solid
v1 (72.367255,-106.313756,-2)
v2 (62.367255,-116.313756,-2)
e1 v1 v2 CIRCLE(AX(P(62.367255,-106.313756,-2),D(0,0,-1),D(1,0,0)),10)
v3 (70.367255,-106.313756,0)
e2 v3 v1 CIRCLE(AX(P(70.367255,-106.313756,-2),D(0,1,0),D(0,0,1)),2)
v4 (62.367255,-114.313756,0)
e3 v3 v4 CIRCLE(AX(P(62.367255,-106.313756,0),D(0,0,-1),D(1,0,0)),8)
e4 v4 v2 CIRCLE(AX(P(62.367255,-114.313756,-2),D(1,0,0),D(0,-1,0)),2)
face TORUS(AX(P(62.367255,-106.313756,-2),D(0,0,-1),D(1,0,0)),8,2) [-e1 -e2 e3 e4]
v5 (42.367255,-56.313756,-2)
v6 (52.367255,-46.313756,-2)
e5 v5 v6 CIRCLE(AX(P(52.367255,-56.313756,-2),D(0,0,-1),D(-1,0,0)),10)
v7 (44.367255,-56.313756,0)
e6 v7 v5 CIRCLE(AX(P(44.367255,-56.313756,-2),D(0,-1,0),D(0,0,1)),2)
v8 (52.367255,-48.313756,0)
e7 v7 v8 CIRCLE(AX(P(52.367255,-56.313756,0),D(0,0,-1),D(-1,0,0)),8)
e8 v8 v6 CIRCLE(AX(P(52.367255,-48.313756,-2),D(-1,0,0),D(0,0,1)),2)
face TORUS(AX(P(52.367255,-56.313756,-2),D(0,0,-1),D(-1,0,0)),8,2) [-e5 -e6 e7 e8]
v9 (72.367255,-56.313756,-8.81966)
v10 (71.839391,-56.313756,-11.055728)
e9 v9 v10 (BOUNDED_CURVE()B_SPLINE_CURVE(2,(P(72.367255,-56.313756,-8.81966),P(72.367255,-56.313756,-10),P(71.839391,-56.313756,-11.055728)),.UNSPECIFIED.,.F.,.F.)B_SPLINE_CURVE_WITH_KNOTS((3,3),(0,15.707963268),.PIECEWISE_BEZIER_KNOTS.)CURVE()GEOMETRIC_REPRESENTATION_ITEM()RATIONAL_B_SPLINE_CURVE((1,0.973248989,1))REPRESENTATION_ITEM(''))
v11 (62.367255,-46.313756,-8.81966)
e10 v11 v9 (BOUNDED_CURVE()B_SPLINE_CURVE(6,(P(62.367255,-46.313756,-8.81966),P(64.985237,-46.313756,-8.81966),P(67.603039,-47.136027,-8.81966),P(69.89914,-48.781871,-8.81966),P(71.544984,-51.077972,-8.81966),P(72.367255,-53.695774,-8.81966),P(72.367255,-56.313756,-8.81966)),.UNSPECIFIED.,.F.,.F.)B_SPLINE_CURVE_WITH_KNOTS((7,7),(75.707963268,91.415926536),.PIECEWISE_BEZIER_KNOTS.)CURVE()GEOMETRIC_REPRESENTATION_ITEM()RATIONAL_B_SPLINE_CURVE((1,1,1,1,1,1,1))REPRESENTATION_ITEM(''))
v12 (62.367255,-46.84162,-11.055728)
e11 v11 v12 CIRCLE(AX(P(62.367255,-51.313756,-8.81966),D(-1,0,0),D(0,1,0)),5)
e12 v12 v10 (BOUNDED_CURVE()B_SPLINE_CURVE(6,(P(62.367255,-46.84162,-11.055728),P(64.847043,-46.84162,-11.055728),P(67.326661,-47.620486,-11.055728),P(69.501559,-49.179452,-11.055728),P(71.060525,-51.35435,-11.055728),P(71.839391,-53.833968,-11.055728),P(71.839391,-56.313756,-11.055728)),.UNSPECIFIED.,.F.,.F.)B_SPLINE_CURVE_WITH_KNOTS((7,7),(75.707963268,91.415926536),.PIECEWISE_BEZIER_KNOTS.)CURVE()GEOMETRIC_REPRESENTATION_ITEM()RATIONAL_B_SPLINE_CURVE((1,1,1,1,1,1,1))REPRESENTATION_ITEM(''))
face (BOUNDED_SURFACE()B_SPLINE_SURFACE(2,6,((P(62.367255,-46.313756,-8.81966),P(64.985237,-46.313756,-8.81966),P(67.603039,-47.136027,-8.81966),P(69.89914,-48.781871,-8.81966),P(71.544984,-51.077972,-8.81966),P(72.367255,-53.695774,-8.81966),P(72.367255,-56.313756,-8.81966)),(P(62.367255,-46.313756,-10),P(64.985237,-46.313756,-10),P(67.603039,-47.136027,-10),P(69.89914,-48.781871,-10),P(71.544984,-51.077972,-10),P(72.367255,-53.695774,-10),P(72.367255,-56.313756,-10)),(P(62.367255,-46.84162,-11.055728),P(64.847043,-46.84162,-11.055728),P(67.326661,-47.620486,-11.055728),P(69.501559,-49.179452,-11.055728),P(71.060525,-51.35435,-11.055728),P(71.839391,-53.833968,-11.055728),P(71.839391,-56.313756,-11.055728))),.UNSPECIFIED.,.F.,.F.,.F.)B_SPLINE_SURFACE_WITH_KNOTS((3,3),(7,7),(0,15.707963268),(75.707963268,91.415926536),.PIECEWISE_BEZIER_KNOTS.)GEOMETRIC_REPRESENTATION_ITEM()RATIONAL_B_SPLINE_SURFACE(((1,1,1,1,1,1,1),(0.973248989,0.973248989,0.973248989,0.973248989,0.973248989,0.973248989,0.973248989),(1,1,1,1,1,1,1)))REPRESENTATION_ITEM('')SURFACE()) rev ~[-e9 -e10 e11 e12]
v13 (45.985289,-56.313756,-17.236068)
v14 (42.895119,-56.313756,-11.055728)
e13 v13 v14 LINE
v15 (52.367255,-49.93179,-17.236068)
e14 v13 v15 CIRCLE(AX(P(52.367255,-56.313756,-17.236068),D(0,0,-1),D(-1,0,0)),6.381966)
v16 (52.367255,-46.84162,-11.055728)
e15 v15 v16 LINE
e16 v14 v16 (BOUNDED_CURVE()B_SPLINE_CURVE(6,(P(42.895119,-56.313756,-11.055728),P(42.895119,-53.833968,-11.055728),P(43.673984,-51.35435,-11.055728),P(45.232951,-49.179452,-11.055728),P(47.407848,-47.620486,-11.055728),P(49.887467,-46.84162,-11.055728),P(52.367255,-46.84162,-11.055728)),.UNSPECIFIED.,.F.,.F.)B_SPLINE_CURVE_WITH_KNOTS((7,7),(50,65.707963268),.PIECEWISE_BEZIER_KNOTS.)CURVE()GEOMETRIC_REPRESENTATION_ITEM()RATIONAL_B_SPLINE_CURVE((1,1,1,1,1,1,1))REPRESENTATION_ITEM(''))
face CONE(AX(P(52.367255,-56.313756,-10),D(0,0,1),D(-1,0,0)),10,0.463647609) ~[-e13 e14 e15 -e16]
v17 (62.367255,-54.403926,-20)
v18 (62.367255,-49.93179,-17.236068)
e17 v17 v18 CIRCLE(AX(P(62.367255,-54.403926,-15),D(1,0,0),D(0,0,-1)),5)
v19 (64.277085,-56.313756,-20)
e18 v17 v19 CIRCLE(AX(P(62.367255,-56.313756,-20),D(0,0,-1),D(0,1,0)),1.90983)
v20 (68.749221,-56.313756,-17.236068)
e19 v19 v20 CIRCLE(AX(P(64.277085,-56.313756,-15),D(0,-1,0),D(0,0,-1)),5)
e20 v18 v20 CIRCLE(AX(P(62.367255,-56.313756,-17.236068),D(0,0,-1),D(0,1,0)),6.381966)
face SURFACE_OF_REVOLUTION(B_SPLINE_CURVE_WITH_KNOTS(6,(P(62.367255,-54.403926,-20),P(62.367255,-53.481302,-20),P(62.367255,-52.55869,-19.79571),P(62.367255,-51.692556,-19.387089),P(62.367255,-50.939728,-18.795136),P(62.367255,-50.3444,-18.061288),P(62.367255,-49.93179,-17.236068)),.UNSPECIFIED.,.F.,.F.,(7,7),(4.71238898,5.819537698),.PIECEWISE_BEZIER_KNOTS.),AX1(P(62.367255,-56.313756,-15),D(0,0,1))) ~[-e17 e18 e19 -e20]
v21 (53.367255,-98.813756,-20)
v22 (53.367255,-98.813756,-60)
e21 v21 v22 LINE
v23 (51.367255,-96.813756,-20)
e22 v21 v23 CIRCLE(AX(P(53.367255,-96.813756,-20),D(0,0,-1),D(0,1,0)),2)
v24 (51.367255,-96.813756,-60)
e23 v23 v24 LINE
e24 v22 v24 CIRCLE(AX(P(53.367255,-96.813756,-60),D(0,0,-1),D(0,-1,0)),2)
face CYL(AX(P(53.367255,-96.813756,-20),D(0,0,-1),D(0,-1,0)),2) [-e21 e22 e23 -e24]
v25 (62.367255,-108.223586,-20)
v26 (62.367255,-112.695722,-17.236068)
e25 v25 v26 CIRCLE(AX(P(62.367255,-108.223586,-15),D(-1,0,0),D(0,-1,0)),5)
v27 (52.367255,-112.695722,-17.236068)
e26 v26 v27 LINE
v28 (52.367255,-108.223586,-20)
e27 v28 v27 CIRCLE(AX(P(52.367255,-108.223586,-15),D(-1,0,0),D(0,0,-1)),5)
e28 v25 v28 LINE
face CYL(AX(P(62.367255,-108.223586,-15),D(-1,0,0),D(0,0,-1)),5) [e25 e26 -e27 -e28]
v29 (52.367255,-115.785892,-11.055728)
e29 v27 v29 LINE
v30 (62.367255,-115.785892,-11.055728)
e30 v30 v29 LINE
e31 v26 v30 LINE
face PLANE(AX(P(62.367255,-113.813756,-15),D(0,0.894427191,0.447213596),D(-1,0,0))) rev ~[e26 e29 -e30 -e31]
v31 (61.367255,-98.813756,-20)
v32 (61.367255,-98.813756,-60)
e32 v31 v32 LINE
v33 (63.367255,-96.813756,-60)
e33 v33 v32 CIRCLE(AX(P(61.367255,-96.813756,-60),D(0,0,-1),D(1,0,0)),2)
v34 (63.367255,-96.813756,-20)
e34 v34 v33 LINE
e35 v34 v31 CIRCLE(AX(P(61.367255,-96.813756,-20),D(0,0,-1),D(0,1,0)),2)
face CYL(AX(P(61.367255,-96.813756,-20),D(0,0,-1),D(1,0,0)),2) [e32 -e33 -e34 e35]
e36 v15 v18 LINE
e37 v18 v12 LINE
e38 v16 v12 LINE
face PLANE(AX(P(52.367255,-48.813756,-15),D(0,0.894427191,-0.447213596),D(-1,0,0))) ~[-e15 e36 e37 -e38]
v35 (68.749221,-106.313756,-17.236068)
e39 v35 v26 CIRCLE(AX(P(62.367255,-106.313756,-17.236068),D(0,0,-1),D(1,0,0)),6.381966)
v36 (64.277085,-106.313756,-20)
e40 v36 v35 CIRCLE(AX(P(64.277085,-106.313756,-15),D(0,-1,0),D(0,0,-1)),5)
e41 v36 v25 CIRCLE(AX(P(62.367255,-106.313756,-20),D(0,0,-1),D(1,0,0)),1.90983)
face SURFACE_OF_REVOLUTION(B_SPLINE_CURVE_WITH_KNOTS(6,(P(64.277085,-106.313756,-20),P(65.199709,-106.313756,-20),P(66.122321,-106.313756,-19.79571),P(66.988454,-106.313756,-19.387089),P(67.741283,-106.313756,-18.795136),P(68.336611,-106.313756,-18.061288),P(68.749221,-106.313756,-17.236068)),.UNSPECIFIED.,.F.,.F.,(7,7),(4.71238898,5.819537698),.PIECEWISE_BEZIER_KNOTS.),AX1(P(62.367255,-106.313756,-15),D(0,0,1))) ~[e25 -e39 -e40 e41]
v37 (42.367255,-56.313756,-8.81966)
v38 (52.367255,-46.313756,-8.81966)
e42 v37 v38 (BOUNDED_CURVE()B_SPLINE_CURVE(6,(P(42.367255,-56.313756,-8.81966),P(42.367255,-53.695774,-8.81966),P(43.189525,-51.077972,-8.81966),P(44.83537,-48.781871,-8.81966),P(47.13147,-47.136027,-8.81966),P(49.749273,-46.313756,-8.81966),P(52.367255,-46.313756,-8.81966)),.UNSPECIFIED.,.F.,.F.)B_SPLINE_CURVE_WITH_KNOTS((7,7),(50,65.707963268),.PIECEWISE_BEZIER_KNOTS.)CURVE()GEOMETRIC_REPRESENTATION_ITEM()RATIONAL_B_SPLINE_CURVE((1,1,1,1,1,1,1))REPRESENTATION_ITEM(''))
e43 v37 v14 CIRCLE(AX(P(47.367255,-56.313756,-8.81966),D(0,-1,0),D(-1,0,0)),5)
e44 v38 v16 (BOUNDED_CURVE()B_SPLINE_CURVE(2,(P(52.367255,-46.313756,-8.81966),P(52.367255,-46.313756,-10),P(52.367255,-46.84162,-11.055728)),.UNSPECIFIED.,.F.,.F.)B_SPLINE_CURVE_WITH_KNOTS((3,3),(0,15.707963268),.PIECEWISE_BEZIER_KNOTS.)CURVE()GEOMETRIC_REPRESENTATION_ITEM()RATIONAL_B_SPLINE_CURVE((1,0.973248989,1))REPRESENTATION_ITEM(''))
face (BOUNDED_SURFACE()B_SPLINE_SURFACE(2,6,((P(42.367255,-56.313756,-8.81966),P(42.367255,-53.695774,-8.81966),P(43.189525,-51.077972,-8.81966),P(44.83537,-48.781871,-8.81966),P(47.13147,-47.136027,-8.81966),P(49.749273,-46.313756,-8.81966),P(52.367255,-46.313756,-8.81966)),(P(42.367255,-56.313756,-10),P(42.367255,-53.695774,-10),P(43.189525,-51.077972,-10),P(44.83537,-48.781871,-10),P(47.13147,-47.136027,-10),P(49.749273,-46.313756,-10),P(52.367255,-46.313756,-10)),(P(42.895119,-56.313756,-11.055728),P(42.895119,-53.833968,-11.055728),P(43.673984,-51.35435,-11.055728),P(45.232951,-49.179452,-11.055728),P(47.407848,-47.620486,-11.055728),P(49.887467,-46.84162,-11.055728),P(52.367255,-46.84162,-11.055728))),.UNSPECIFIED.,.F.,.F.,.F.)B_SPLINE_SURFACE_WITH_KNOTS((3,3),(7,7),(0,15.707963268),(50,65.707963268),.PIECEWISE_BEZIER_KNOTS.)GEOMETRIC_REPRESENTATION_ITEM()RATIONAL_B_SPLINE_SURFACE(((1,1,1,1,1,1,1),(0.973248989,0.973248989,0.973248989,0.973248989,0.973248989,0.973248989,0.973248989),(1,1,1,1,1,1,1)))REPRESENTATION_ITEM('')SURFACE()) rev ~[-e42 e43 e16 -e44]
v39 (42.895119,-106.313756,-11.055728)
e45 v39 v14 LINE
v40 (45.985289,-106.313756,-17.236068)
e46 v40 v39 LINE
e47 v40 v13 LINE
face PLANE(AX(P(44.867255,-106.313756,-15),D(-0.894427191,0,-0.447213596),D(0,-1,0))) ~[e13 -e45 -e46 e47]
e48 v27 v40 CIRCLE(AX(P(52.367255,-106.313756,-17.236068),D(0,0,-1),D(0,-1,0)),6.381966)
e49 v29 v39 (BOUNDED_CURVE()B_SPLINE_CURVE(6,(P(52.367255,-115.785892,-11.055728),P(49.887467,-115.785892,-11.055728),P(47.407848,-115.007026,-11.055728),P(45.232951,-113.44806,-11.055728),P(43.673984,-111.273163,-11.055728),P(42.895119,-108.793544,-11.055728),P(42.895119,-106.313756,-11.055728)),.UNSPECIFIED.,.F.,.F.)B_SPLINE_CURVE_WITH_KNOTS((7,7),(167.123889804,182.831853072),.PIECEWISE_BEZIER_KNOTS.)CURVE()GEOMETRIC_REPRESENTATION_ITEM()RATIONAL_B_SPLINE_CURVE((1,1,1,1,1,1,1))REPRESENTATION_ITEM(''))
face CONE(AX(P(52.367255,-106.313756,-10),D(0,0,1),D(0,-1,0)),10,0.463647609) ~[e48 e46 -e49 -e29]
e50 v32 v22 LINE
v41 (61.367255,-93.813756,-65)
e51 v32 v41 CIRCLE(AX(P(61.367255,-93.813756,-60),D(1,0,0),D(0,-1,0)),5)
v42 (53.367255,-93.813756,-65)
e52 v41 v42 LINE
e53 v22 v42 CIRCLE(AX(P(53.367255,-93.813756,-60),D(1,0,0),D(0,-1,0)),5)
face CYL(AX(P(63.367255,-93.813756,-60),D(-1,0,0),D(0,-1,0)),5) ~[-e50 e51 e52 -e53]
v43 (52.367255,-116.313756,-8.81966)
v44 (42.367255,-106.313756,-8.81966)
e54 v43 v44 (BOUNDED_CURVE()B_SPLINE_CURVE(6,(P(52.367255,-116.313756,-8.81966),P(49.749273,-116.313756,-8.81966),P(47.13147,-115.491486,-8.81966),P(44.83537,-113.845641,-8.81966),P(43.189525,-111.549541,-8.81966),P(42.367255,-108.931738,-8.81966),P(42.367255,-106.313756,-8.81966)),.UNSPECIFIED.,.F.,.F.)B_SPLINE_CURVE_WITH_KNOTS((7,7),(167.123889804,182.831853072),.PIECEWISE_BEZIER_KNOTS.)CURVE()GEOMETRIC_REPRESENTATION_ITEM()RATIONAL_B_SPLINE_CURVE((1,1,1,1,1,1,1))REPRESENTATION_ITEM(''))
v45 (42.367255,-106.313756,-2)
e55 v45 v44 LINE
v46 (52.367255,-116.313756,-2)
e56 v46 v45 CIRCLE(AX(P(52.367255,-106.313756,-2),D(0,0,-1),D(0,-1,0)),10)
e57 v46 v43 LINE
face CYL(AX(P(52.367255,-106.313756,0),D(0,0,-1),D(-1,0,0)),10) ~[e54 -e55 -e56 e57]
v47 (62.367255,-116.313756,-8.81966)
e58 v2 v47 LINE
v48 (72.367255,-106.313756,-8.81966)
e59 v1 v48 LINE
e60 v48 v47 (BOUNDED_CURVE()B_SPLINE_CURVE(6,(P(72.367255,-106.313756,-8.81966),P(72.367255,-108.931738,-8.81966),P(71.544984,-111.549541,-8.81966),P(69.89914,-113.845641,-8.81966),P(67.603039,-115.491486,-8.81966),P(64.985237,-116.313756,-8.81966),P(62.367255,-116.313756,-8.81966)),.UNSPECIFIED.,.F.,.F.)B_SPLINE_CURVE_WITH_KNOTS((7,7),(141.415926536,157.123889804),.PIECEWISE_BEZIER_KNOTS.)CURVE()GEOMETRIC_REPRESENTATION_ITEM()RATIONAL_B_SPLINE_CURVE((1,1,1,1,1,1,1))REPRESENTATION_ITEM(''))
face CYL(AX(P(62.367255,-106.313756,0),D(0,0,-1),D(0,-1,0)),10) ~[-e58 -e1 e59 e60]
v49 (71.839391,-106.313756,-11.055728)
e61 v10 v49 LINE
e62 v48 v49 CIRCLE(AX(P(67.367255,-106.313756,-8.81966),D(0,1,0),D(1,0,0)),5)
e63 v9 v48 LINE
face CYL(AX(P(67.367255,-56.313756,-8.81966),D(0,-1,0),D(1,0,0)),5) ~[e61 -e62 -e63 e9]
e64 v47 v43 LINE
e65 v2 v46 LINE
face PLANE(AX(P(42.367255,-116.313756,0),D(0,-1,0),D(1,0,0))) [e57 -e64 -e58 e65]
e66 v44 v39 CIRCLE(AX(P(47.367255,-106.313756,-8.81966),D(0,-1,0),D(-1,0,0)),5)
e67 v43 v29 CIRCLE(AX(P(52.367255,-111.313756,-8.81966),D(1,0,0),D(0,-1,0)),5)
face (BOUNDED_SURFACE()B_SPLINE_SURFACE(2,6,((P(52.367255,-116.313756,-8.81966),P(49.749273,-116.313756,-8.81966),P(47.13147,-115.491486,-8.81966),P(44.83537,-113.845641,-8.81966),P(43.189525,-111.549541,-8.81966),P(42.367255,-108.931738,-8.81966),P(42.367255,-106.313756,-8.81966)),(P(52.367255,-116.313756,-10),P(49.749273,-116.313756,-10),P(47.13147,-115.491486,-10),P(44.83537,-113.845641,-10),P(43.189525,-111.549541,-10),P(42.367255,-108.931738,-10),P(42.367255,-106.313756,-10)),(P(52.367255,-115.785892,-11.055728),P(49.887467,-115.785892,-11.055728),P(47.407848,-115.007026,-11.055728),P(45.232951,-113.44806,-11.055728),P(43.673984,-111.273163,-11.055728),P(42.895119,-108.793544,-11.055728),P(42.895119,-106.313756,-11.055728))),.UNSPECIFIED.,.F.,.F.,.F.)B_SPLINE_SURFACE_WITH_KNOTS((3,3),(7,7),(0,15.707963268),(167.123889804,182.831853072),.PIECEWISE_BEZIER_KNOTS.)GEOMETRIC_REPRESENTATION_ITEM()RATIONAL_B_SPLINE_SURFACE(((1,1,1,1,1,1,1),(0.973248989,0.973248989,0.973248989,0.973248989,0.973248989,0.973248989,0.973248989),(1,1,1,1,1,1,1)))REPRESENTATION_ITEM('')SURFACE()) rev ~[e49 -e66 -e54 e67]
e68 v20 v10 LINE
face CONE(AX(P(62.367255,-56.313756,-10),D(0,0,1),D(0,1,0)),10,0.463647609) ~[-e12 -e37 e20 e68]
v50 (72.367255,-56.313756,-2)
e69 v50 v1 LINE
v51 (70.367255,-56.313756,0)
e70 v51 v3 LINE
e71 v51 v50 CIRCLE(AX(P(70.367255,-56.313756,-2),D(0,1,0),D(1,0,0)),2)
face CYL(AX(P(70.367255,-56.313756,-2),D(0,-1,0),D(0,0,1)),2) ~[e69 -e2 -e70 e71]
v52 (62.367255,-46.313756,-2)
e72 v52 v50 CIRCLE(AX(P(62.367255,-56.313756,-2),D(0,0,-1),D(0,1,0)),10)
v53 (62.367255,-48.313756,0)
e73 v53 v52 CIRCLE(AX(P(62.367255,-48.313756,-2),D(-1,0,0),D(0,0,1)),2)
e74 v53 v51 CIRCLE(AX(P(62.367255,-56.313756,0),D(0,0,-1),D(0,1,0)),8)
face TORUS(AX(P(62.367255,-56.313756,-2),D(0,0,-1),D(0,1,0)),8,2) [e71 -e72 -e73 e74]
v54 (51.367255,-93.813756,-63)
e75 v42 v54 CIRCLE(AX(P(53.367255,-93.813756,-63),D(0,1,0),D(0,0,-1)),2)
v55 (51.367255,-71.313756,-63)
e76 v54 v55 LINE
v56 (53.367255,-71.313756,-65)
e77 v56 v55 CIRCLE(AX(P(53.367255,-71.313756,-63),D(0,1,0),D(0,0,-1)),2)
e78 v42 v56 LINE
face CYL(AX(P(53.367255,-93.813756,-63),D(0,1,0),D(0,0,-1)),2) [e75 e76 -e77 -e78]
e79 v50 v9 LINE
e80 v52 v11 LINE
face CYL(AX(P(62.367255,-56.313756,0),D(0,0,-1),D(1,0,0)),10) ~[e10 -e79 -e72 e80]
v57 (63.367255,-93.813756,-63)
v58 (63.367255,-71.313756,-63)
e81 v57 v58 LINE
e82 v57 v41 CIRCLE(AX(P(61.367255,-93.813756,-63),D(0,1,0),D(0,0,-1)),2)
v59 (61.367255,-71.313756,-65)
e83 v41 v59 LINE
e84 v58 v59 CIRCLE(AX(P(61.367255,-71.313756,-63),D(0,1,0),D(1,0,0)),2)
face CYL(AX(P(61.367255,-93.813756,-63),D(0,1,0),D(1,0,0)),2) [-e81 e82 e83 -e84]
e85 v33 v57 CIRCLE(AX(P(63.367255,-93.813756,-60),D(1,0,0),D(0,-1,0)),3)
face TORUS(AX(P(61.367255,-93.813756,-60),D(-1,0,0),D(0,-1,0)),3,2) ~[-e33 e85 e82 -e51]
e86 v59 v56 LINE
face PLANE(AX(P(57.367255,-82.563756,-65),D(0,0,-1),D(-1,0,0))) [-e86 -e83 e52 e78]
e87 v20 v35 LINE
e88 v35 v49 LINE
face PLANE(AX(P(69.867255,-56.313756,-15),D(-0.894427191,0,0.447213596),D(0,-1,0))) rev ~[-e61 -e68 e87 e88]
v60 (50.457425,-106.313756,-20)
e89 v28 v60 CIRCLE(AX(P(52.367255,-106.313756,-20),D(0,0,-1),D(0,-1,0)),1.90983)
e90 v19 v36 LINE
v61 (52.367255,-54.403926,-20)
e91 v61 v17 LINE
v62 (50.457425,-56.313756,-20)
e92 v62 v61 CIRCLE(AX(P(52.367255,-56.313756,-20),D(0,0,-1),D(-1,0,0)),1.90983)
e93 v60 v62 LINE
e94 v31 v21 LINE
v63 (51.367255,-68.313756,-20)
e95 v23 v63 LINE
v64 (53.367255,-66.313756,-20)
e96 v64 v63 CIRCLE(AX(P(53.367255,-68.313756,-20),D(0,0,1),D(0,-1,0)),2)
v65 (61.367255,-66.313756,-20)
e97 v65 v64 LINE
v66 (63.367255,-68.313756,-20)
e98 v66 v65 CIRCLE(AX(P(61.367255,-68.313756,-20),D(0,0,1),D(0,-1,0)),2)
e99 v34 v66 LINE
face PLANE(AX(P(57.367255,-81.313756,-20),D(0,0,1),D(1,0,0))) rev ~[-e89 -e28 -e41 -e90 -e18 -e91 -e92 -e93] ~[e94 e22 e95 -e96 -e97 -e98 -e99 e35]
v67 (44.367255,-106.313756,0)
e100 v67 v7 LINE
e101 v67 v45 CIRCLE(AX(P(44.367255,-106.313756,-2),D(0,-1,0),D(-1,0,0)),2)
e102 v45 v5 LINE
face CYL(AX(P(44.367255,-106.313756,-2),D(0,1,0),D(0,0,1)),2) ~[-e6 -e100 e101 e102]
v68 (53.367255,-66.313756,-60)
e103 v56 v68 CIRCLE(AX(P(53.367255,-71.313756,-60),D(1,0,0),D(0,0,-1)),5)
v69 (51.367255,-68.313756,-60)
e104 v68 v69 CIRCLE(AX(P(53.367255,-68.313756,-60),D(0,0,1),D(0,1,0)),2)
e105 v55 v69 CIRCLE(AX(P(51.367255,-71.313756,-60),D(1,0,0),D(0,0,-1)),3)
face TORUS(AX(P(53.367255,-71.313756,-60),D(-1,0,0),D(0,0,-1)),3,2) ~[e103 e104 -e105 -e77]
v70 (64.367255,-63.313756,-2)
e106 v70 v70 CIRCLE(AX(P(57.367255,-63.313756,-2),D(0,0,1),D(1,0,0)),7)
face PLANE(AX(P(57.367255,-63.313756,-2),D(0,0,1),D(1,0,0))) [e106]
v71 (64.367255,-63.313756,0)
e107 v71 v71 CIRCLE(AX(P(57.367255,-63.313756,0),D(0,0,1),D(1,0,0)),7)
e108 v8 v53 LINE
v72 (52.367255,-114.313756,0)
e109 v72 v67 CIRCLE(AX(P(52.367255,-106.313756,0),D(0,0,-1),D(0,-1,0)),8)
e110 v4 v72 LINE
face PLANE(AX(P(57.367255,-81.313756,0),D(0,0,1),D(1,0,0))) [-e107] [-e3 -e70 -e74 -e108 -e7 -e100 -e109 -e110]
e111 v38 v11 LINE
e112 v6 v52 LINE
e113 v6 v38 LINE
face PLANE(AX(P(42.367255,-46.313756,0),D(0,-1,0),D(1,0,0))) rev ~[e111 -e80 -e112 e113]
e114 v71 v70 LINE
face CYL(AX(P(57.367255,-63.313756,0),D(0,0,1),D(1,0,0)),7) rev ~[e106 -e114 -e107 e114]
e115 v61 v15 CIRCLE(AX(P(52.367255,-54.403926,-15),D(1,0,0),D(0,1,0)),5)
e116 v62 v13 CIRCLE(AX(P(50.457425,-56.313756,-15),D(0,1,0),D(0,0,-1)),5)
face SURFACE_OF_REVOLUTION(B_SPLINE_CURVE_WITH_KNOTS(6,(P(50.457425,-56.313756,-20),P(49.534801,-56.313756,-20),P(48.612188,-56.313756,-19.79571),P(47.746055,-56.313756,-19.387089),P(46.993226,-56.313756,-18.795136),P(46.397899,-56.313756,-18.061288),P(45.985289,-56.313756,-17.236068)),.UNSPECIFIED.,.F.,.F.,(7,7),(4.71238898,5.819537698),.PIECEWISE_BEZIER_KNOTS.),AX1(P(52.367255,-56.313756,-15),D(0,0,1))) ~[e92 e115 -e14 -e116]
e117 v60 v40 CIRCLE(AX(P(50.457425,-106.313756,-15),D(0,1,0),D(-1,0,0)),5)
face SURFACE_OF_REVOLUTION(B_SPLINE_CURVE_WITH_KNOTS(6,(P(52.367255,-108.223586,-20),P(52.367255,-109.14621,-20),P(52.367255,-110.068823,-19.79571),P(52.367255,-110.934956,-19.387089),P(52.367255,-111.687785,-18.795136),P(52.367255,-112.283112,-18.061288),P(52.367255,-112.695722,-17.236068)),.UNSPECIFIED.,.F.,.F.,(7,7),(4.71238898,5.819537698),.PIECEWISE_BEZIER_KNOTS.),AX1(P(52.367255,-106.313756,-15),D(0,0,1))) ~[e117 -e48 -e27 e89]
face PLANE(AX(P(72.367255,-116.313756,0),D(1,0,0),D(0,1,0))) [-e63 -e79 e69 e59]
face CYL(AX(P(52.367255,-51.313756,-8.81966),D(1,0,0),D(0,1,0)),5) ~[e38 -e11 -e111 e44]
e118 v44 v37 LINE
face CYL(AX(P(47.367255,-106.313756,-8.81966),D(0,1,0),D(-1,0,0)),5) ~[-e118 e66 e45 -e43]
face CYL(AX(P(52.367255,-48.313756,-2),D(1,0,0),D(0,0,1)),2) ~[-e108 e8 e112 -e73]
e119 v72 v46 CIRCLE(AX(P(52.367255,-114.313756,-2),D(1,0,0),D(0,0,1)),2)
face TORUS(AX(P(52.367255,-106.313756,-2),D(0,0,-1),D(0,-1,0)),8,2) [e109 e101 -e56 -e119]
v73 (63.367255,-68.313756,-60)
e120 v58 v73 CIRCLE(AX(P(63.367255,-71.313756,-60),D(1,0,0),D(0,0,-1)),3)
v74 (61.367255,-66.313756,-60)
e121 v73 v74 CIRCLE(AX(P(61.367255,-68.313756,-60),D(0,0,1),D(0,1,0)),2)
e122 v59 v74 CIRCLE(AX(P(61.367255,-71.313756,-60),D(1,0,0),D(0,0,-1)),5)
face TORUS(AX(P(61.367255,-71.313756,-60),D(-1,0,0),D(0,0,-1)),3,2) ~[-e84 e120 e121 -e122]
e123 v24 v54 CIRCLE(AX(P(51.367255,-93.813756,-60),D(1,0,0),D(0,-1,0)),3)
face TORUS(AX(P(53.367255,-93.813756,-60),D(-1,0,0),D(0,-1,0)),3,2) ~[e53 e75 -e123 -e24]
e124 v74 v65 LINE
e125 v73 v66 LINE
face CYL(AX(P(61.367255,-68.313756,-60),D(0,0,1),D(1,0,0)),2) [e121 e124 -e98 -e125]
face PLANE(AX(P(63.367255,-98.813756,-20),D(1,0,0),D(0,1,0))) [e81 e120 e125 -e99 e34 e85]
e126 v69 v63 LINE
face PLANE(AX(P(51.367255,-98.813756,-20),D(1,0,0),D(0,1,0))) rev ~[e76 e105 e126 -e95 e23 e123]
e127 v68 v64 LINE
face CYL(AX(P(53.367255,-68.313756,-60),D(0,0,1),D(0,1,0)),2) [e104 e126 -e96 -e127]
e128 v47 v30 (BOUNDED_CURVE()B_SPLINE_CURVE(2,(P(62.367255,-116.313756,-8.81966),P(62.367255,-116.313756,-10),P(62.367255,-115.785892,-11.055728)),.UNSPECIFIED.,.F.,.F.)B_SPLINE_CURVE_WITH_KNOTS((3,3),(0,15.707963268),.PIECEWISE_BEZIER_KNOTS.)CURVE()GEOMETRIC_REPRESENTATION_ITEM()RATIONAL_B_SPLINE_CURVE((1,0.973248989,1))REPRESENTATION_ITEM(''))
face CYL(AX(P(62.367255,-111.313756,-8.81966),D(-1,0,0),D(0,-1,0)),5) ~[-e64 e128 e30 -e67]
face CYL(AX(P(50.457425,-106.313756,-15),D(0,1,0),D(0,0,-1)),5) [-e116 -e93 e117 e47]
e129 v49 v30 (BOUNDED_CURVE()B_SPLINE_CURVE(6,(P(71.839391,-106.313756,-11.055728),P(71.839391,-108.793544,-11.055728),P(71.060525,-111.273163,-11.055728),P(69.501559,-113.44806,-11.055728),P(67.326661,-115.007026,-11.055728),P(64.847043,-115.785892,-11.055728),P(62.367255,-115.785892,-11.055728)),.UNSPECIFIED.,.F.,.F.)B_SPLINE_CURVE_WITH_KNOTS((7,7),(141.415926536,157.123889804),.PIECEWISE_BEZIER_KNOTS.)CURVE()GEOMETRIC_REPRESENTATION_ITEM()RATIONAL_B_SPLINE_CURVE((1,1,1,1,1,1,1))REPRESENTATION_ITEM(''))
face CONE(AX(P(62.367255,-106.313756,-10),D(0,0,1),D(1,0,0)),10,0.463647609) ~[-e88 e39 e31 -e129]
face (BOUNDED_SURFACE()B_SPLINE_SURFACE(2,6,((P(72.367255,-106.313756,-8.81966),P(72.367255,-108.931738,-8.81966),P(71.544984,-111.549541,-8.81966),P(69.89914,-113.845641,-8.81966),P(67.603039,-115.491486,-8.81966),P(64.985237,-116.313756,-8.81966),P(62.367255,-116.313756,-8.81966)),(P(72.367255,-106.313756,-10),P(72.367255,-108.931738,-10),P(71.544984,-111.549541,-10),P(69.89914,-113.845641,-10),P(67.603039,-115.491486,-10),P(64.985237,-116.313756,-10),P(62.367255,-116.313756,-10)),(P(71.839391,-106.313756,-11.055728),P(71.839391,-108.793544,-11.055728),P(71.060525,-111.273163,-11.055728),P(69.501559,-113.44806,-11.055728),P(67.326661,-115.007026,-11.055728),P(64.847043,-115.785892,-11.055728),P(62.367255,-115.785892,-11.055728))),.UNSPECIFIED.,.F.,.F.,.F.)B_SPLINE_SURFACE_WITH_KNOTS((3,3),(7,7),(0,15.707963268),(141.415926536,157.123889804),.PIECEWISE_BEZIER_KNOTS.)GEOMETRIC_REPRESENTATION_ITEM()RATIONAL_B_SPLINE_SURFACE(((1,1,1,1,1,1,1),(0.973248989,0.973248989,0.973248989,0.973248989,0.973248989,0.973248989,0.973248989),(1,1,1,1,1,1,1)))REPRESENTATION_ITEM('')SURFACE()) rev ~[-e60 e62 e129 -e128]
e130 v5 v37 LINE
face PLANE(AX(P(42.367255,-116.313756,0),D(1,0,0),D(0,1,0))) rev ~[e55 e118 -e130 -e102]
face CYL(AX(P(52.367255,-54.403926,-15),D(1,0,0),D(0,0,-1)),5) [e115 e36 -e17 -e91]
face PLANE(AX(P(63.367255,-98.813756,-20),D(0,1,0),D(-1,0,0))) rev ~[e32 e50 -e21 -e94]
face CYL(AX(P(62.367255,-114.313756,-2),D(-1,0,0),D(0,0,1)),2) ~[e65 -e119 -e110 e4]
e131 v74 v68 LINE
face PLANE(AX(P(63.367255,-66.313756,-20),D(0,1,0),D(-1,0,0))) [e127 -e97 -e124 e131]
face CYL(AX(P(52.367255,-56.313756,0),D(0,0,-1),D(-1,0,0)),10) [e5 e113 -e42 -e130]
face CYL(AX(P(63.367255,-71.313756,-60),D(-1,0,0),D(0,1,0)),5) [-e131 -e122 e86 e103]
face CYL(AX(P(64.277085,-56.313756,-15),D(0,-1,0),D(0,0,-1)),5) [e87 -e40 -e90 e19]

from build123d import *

# Parameters (mm, degrees)
SKETCH1_W           = 30
SKETCH1_H           = 70
BOSS_EXTRUDE1_DEPTH = 20
FILLET1_R           = 10
FILLET2_R           = 2
CHAMFER1_SIZE       = 5
CHAMFER1_SIZE2      = 10
FILLET3_R           = 5
SKETCH2_W           = 12
SKETCH2_H           = 32.5
BOSS_EXTRUDE2_DEPTH = 45
FILLET4_R           = 5
SKETCH3_R           = 7
CUT_EXTRUDE1_DEPTH  = 2
FILLET5_R           = 2


with BuildPart() as part:
    # Sketch1 → Boss-Extrude1 (new body)
    with BuildSketch(Plane.XY):
        with Locations((57.367254616, -81.313756287)):
            Rectangle(SKETCH1_W, SKETCH1_H)
    extrude(amount=-BOSS_EXTRUDE1_DEPTH)

    # Fillet1
    fillet1_edges = [part.edges().sort_by_distance(p)[0] for p in [
        (42.367254616, -46.313756287, -10),
        (72.367254616, -46.313756287, -10),
        (72.367254616, -116.313756287, -10),
        (42.367254616, -116.313756287, -10),
    ]]
    fillet(fillet1_edges, radius=FILLET1_R)

    # Fillet2
    fillet2_edges = [part.edges().sort_by_distance(p)[0] for p in [
        (57.367254616, -46.313756287, 0),
        (42.367254616, -81.313756287, 0),
        (57.367254616, -116.313756287, 0),
        (72.367254616, -81.313756287, 0),
        (69.438322428, -113.384824099, 0),
        (45.296186805, -113.384824099, 0),
        (69.438322428, -49.242688475, 0),
        (45.296186805, -49.242688475, 0),
    ]]
    fillet(fillet2_edges, radius=FILLET2_R)

    # Chamfer1
    chamfer1_edges = [part.edges().sort_by_distance(p)[0] for p in [
        (57.367254616, -46.313756287, -20),
        (42.367254616, -81.313756287, -20),
        (72.367254616, -81.313756287, -20),
        (57.367254616, -116.313756287, -20),
        (69.438322428, -113.384824099, -20),
        (45.296186805, -113.384824099, -20),
        (69.438322428, -49.242688475, -20),
        (45.296186805, -49.242688475, -20),
    ]]
    chamfer1_side = [part.faces().sort_by_distance(p)[0] for p in [
        (57.367254616, -81.313756287, -20),
    ]]
    chamfer(chamfer1_edges, length=CHAMFER1_SIZE, length2=CHAMFER1_SIZE2, reference=chamfer1_side[0])

    # Fillet3
    fillet3_edges = [part.edges().sort_by_distance(p)[0] for p in [
        (42.367254616, -81.313756287, -10),
        (67.367254616, -81.313756287, -20),
        (65.902788522, -52.778222381, -20),
        (65.902788522, -109.849290193, -20),
        (57.367254616, -51.313756287, -20),
        (57.367254616, -111.313756287, -20),
        (48.83172071, -52.778222381, -20),
        (48.83172071, -109.849290193, -20),
        (47.367254616, -81.313756287, -20),
        (45.296186805, -113.384824099, -10),
        (45.296186805, -49.242688475, -10),
        (57.367254616, -116.313756287, -10),
        (57.367254616, -46.313756287, -10),
        (69.438322428, -113.384824099, -10),
        (69.438322428, -49.242688475, -10),
        (72.367254616, -81.313756287, -10),
    ]]
    fillet(fillet3_edges, radius=FILLET3_R)

    # Sketch2 → Boss-Extrude2 (add)
    with BuildSketch(Plane(origin=(0, 0, -20), x_dir=(-1, 0, 0), z_dir=(0, 0, -1))):
        with Locations((-57.367254616, -82.563756287)):
            Rectangle(SKETCH2_W, SKETCH2_H)
    extrude(amount=BOSS_EXTRUDE2_DEPTH)

    # Fillet4
    fillet4_edges = [part.edges().sort_by_distance(p)[0] for p in [
        (57.367254616, -98.813756287, -65),
        (57.367254616, -66.313756287, -65),
    ]]
    fillet(fillet4_edges, radius=FILLET4_R)

    # Sketch3 → Cut-Extrude1 (cut)
    with BuildSketch(Plane.XY):
        with Locations((57.367254616, -63.313756287)):
            Circle(SKETCH3_R)
    extrude(amount=-CUT_EXTRUDE1_DEPTH, mode=Mode.SUBTRACT)

    # Fillet5
    fillet5_edges = [part.edges().sort_by_distance(p)[0] for p in [
        (63.367254616, -82.563756287, -65),
        (51.367254616, -82.563756287, -65),
        (63.367254616, -98.813756287, -40),
        (63.367254616, -66.313756287, -40),
        (63.367254616, -97.349290193, -63.535533906),
        (63.367254616, -67.778222381, -63.535533906),
        (51.367254616, -66.313756287, -40),
        (51.367254616, -98.813756287, -40),
        (51.367254616, -97.349290193, -63.535533906),
        (51.367254616, -67.778222381, -63.535533906),
    ]]
    fillet(fillet5_edges, radius=FILLET5_R)


solid = part.part
